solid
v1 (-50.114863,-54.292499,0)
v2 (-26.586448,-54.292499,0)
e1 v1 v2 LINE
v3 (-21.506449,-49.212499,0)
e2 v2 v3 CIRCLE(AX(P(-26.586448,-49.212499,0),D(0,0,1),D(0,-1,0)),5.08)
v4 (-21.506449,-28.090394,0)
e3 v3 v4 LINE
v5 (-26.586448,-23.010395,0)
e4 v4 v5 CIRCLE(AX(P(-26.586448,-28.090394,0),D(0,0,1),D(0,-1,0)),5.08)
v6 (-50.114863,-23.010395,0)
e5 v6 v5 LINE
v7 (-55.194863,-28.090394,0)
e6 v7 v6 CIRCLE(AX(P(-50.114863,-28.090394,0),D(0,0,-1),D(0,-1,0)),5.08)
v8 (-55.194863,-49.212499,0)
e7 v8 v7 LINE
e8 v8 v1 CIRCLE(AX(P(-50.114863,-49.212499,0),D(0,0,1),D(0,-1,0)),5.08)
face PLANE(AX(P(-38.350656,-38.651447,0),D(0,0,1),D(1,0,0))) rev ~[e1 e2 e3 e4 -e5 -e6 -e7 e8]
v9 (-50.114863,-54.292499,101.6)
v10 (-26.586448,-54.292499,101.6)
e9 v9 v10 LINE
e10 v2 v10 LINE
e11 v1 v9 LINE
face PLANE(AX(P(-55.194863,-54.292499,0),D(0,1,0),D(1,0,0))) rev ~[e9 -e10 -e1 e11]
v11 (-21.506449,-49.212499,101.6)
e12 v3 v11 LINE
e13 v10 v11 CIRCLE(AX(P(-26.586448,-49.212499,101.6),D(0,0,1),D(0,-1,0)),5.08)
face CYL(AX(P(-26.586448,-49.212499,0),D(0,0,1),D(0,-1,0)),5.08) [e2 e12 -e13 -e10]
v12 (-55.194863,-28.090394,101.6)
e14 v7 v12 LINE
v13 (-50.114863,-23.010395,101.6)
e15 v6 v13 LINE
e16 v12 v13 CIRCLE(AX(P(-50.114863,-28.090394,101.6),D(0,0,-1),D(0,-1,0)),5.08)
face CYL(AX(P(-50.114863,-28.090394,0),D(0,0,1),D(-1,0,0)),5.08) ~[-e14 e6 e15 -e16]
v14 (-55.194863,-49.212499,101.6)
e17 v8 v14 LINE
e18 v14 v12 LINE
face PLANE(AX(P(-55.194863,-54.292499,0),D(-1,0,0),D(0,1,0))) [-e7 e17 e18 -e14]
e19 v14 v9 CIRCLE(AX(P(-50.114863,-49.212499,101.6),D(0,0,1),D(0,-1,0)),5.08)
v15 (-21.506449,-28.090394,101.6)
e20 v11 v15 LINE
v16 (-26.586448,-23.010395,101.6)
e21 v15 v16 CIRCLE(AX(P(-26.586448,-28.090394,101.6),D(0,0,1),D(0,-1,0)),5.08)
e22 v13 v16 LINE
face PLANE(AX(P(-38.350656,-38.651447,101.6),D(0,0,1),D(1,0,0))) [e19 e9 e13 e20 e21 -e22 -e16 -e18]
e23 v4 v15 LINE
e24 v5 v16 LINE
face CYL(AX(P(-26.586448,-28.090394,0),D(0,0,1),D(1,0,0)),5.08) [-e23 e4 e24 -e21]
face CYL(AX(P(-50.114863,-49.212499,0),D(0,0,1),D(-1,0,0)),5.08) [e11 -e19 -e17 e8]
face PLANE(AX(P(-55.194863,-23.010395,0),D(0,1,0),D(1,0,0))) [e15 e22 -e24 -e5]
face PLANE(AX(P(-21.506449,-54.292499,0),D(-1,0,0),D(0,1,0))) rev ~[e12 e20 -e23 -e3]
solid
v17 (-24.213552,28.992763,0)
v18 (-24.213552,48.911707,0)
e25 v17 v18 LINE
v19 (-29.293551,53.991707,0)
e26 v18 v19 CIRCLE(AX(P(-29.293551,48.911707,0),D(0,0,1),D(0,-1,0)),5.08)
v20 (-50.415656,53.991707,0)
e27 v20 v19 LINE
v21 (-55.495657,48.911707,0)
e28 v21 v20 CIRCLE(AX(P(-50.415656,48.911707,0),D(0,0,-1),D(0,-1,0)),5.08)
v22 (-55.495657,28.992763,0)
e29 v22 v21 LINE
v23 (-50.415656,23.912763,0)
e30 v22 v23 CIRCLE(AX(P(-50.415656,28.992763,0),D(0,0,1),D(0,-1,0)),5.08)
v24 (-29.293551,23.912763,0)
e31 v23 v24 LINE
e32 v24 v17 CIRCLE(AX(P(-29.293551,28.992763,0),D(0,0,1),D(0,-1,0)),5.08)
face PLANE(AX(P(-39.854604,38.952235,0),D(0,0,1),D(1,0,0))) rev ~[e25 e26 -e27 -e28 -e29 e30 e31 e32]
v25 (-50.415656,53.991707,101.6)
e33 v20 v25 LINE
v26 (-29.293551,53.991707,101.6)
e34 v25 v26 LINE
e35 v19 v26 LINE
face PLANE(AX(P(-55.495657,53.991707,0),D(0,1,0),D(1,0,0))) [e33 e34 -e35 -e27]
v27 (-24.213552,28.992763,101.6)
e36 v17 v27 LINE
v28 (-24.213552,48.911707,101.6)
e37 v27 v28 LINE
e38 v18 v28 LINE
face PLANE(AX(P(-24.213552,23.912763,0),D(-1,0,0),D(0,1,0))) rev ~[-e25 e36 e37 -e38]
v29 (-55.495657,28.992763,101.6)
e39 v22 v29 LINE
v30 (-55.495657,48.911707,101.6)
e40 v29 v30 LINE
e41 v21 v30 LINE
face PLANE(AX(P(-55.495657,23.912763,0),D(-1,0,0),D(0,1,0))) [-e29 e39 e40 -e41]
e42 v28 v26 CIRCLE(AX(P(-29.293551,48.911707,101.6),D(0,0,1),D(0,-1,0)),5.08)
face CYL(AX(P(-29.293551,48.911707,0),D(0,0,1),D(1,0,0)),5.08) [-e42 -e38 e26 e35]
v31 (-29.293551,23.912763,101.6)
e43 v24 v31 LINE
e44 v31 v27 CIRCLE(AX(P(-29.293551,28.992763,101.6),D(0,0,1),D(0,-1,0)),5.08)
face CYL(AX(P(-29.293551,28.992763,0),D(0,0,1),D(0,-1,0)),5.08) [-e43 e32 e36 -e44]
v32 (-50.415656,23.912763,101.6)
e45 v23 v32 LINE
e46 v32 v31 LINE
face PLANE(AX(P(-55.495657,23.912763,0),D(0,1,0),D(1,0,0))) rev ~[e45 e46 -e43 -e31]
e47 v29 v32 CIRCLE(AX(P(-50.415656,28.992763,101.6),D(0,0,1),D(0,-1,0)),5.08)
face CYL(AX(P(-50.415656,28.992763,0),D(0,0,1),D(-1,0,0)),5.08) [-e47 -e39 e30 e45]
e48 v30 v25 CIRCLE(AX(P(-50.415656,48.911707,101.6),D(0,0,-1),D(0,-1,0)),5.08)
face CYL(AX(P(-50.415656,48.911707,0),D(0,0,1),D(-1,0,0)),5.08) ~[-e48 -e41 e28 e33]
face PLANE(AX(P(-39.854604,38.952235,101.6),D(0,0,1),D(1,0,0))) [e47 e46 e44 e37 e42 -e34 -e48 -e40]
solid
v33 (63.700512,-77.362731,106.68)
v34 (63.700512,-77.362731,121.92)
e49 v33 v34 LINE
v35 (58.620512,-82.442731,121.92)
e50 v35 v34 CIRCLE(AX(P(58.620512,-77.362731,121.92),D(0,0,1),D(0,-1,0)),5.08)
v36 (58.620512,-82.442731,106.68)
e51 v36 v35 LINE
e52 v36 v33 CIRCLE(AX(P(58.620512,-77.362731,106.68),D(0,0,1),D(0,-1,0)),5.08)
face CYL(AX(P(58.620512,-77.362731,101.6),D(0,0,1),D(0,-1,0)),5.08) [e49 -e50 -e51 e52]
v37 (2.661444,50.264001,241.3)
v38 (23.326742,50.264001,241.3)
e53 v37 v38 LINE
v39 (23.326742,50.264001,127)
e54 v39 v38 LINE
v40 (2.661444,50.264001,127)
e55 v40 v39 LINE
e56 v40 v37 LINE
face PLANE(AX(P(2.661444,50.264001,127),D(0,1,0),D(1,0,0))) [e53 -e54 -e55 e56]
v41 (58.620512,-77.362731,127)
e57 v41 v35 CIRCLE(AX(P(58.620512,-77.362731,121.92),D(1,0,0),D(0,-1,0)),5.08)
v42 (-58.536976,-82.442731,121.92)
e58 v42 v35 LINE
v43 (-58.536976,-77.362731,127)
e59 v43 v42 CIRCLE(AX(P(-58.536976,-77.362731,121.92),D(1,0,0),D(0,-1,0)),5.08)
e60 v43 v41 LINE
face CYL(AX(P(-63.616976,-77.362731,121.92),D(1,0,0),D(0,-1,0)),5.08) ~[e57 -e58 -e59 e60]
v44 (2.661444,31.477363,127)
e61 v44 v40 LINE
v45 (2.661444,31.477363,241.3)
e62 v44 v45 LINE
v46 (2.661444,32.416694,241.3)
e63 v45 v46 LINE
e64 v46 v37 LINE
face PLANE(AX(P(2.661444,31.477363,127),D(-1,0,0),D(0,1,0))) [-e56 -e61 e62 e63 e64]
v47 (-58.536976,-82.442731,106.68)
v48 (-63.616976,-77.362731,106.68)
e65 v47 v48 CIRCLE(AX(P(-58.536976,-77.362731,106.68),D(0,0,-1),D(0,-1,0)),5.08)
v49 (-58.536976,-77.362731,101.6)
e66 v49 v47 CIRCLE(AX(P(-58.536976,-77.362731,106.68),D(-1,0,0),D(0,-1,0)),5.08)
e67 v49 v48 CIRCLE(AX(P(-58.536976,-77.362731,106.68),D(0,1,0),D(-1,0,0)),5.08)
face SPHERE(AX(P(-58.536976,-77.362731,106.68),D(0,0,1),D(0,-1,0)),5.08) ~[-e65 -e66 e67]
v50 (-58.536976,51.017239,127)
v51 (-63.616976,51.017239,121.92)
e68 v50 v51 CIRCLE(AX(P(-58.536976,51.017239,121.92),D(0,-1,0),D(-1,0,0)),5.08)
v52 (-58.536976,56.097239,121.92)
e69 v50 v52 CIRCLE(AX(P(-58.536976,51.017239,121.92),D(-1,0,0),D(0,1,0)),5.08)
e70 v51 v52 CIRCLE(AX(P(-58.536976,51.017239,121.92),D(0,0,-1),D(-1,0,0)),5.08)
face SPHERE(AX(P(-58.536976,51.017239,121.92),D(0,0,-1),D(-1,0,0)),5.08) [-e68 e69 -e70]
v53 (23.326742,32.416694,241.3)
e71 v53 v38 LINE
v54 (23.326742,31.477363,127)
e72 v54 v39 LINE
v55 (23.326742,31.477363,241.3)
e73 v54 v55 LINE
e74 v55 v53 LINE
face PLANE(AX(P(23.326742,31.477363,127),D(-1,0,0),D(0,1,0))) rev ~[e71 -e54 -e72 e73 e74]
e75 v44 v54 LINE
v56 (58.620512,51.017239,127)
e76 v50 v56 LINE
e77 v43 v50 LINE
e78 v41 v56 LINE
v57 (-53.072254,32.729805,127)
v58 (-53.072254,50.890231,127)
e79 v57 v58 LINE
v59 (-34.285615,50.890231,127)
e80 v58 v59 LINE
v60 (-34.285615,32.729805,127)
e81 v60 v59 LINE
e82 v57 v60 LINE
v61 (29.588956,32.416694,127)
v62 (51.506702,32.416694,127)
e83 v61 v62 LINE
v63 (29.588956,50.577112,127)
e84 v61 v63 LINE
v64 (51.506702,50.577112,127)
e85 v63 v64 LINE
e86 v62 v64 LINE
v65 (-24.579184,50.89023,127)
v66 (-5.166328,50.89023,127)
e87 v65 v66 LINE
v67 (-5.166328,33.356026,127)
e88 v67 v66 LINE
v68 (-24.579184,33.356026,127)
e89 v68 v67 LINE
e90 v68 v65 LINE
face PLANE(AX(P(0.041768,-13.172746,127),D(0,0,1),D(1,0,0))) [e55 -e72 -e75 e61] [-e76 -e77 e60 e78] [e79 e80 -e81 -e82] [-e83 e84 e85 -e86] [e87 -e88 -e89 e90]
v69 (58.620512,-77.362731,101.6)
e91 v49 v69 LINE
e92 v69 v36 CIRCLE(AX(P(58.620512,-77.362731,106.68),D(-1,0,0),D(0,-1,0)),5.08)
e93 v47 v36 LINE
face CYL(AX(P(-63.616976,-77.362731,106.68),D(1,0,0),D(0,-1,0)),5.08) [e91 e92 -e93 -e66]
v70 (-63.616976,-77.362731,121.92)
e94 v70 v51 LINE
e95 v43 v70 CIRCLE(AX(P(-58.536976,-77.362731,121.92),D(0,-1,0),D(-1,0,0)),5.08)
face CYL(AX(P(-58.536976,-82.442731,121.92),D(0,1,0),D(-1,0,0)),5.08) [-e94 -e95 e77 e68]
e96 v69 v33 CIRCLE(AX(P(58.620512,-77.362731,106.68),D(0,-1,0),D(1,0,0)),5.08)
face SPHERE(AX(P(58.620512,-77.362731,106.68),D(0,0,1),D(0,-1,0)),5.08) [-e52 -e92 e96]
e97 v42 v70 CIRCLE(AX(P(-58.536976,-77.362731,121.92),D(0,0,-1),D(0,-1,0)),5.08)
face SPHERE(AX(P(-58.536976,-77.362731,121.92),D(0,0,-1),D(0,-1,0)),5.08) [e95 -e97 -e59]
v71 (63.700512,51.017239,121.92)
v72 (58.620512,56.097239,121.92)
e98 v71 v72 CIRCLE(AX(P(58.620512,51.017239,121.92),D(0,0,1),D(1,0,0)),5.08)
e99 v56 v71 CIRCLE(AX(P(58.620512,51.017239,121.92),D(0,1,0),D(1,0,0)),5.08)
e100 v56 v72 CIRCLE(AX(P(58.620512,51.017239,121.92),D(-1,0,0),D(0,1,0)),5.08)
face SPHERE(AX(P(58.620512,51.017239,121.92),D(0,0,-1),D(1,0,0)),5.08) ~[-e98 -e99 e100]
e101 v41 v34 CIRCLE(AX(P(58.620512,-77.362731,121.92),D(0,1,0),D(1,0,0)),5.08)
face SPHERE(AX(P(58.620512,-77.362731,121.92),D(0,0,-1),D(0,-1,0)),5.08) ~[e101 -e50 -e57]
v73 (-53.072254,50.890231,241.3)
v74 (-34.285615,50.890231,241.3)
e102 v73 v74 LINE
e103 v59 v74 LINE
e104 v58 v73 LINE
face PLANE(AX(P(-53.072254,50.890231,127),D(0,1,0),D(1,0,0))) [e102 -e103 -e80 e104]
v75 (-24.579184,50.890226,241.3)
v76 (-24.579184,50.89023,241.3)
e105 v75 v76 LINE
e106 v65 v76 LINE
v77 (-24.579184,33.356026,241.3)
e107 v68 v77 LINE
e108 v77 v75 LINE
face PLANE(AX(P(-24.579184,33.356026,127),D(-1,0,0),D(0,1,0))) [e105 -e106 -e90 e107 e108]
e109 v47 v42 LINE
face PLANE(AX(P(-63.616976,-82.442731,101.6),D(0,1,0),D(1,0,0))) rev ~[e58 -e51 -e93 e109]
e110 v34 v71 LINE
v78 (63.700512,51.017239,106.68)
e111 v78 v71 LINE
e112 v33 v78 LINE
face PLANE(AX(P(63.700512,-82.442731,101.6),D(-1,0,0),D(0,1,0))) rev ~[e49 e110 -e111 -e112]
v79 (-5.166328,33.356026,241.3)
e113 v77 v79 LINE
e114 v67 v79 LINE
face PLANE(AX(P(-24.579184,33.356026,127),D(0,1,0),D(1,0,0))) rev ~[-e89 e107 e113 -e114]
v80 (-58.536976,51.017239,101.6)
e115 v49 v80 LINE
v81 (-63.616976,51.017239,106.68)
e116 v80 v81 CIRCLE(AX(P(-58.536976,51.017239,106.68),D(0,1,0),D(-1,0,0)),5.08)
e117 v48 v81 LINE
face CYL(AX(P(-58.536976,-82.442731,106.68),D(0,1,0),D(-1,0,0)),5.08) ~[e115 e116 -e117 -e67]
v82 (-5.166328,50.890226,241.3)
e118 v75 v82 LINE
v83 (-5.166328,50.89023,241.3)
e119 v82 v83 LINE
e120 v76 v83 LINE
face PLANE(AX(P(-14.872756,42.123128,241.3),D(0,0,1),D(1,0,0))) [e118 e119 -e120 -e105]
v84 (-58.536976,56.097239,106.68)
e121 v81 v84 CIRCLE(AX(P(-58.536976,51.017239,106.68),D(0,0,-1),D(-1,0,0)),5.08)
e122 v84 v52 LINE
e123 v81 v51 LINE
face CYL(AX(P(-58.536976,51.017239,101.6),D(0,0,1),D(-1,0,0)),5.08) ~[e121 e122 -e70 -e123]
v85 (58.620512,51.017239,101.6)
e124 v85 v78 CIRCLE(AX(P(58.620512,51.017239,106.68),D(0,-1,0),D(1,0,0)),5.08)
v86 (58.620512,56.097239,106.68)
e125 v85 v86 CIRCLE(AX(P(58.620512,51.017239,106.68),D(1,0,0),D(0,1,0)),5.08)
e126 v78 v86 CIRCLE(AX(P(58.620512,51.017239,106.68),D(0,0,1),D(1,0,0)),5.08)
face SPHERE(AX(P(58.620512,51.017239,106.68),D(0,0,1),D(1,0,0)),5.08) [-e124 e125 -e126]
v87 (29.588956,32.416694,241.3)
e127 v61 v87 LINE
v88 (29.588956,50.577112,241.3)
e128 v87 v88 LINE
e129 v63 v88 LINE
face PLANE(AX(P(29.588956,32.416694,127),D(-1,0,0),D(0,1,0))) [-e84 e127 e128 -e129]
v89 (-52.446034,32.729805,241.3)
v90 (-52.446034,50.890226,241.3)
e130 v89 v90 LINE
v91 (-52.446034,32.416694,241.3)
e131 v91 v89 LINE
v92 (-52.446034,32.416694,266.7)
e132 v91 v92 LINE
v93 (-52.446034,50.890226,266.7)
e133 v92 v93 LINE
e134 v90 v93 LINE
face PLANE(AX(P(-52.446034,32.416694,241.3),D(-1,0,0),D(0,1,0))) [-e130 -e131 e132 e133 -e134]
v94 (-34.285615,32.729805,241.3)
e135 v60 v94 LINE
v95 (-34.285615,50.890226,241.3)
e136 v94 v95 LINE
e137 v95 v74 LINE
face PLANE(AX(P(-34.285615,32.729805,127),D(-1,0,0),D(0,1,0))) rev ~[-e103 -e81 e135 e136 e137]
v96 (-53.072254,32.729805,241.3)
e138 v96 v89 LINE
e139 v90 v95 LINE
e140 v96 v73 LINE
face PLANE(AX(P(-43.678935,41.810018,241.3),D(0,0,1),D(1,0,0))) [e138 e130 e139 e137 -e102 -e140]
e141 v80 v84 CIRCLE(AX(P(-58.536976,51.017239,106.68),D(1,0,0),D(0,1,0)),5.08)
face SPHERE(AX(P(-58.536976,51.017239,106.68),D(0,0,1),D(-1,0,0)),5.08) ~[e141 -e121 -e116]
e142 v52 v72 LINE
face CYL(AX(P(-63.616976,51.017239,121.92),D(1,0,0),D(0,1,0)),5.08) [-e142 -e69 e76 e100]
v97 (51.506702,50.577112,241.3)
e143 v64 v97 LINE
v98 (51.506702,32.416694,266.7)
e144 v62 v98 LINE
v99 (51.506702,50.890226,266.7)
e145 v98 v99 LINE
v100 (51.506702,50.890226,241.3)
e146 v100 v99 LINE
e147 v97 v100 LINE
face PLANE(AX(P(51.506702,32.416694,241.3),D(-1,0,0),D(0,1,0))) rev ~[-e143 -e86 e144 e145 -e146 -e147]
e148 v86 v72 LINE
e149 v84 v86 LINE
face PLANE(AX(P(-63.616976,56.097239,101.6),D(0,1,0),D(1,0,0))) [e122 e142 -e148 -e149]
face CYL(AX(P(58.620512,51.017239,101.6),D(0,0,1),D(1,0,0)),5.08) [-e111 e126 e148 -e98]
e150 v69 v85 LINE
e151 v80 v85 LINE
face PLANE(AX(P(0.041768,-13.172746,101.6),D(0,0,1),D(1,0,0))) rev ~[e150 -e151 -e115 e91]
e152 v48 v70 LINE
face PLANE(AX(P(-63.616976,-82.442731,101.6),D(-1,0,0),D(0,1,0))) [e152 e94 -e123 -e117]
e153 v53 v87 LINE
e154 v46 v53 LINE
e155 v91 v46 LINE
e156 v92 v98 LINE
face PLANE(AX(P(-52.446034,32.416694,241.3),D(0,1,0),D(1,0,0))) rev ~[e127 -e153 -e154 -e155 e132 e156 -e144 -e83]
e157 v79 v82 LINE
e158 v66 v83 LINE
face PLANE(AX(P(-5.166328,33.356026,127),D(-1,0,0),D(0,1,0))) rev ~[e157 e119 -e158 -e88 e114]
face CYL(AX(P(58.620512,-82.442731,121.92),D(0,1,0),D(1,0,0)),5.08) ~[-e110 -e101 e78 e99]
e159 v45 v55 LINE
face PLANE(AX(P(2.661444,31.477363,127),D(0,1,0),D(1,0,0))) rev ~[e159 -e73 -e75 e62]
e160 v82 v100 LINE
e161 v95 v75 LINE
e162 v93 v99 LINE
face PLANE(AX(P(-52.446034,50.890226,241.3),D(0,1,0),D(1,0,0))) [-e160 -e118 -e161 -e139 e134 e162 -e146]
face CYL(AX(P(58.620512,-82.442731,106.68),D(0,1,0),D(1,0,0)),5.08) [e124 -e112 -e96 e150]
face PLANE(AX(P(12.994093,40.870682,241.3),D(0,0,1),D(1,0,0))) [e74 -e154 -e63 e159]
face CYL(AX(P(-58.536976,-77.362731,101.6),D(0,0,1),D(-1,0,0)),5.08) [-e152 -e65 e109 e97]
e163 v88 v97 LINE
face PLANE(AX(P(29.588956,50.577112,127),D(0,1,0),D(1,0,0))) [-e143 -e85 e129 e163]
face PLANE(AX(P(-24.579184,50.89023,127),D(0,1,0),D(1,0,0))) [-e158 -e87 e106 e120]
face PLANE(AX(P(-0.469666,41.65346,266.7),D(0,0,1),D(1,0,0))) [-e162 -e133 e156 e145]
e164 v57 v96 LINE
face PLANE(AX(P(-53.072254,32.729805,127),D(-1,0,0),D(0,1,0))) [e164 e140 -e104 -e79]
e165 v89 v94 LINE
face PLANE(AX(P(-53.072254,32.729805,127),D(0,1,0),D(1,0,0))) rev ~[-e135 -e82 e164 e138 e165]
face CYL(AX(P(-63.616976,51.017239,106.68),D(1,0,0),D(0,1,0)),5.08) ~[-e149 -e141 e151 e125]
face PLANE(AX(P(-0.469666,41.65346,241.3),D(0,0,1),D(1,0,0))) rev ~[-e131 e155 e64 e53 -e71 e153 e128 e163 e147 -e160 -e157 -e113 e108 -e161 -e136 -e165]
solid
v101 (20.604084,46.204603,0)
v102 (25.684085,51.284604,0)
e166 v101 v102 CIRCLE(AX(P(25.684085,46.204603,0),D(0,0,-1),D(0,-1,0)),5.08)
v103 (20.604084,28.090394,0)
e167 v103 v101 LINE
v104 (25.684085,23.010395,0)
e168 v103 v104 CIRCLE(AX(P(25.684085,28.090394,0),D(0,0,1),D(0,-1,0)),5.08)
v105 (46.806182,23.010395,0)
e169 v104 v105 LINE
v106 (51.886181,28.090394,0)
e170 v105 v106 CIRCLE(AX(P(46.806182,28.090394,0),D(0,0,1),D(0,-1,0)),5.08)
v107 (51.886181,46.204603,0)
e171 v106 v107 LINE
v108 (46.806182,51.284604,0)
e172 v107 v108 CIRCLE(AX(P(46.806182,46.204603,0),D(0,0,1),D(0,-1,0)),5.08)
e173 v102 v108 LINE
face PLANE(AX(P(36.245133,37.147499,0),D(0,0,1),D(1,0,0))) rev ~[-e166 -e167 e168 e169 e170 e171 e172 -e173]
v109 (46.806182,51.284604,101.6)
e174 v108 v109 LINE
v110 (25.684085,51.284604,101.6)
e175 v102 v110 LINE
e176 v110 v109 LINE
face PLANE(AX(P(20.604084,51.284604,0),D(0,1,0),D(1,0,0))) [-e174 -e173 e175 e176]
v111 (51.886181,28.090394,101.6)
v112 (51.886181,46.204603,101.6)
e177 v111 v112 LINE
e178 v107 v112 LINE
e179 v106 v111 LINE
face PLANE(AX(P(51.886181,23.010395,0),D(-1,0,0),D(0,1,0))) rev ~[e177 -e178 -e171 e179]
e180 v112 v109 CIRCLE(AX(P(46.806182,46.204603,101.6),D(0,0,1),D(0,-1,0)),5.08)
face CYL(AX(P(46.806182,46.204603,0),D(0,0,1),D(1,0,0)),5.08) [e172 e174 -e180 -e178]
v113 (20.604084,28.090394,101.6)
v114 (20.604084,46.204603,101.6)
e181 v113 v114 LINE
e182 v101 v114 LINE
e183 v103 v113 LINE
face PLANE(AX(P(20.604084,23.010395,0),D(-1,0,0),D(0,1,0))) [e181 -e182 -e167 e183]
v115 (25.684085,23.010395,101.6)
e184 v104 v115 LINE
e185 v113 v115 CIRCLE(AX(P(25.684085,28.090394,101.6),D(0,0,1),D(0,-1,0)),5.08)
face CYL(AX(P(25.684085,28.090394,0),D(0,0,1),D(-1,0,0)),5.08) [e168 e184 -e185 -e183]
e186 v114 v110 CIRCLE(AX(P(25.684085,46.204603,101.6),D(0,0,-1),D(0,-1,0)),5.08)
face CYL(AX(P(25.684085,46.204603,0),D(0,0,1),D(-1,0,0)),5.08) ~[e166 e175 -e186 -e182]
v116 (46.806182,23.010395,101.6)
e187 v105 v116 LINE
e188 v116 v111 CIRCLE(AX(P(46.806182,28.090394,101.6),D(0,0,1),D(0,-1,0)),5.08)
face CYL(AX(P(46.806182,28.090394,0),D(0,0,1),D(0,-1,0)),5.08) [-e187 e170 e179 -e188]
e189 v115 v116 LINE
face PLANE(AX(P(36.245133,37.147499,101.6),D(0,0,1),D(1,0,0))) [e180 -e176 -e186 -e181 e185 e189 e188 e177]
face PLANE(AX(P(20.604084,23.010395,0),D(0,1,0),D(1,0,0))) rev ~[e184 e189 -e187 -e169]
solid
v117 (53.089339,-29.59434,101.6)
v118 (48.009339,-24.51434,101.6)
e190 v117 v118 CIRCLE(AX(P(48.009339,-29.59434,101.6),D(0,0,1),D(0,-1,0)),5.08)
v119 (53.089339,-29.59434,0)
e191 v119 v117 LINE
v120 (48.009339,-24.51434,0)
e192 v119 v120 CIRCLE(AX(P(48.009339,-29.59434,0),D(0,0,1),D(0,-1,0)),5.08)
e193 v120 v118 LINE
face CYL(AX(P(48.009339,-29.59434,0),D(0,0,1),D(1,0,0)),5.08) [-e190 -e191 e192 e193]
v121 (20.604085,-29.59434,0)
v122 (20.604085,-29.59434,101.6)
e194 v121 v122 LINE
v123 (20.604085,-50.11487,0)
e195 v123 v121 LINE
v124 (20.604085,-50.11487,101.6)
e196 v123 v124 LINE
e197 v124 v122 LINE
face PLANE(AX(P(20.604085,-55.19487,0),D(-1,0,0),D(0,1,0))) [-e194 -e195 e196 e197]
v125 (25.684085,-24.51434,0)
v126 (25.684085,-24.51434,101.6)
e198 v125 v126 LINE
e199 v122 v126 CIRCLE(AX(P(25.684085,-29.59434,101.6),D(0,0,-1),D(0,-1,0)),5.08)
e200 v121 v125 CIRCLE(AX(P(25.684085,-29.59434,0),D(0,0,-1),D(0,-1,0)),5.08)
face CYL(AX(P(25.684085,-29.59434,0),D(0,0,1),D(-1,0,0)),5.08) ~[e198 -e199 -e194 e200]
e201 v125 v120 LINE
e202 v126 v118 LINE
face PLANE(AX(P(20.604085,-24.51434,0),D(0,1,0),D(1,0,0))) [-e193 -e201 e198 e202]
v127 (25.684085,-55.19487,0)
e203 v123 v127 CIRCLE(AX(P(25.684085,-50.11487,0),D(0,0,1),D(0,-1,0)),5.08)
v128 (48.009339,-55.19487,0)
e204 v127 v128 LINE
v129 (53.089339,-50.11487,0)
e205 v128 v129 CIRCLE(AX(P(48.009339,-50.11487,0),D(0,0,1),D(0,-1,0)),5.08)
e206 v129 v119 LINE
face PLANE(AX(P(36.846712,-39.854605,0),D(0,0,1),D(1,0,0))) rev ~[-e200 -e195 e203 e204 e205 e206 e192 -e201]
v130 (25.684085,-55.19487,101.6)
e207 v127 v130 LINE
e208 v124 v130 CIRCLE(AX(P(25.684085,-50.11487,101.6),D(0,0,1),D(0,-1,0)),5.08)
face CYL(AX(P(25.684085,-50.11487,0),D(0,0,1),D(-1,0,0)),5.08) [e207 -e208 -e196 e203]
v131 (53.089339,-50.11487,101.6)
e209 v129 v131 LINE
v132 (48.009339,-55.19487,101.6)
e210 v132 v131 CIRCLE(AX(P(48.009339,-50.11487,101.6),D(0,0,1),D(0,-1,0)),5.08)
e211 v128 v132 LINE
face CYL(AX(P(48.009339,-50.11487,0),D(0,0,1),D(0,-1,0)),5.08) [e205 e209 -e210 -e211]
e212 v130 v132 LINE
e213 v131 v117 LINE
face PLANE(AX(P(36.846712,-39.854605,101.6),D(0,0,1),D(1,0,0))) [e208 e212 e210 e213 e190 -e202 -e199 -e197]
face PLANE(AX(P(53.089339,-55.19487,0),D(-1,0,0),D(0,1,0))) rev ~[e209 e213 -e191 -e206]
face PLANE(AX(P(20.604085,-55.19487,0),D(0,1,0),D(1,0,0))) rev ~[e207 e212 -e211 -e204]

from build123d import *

# Parameters (mm, degrees)
F0_W     = 31.282105
F0_H     = 30.078944
F0_W_2   = 31.282097
F0_H_2   = 28.274209
F0_W_3   = 33.688415
F0_H_3   = 31.282105
F0_W_4   = 32.485254
F0_H_4   = 30.68053
F1_DEPTH = 101.6
F2_W     = 127.317488
F2_H     = 138.53997
F3_DEPTH = 25.4
F4_R     = 5.08
F5_W     = 18.786639
F5_H     = 18.160425
F5_W_2   = 19.412856
F5_H_2   = 17.534204
F5_W_3   = 20.665298
F5_H_3   = 18.786639
F5_W_4   = 21.917746
F5_H_4   = 18.160418
F6_DEPTH = 114.3
F7_W     = 103.952736
F7_H     = 18.473532
F8_DEPTH = 25.4
F9_R     = 5.08
F10_R    = 5.08
F11_R    = 5.08
F12_R    = 5.08


with BuildPart() as f1:
    # F0 (on Top) → F1 (new body)
    with BuildSketch(Plane.XY):
        with Locations((-39.854604, 38.952235)):
            Rectangle(F0_W, F0_H)
        with Locations((36.245133, 37.147499)):
            Rectangle(F0_W_2, F0_H_2)
        with Locations((-38.350656, -38.651447)):
            Rectangle(F0_W_3, F0_H_3)
        with Locations((36.846712, -39.854605)):
            Rectangle(F0_W_4, F0_H_4)
    extrude(amount=F1_DEPTH)

    # F9
    f9_edges = [f1.edges().sort_by_distance(p)[0] for p in [
        (53.089339, -55.19487, 50.8),
        (53.089339, -24.51434, 50.8),
        (20.604085, -24.51434, 50.8),
        (20.604085, -55.19487, 50.8),
    ]]
    fillet(f9_edges, radius=F9_R)

    # F10
    f10_edges = [f1.edges().sort_by_distance(p)[0] for p in [
        (-55.194864, -54.2925, 50.8),
        (-55.194864, -23.010395, 50.8),
        (-21.506449, -54.2925, 50.8),
        (-21.506449, -23.010395, 50.8),
    ]]
    fillet(f10_edges, radius=F10_R)

    # F11
    f11_edges = [f1.edges().sort_by_distance(p)[0] for p in [
        (-55.495657, 53.991707, 50.8),
        (-55.495657, 23.912763, 50.8),
        (-24.213552, 53.991707, 50.8),
        (-24.213552, 23.912763, 50.8),
    ]]
    fillet(f11_edges, radius=F11_R)

    # F12
    f12_edges = [f1.edges().sort_by_distance(p)[0] for p in [
        (51.886182, 23.010395, 50.8),
        (51.886182, 51.284604, 50.8),
        (20.604085, 23.010395, 50.8),
        (20.604085, 51.284604, 50.8),
    ]]
    fillet(f12_edges, radius=F12_R)


with BuildPart() as f3:
    # F2 (on face) → F3 (new body)
    with BuildSketch(Plane.XY.offset(101.6)):
        with Locations((0.041768, -13.172746)):
            Rectangle(F2_W, F2_H)
    extrude(amount=F3_DEPTH)

    # F4
    f4_edges = [f3.edges().sort_by_distance(p)[0] for p in [
        (-63.616976, -82.442731, 114.3),
        (63.700512, -82.442731, 114.3),
        (0.041768, -82.442731, 101.6),
        (0.041768, -82.442731, 127),
        (-63.616976, 56.097239, 114.3),
        (-63.616976, -13.172746, 101.6),
        (-63.616976, -13.172746, 127),
        (63.700512, 56.097239, 114.3),
        (63.700512, -13.172746, 101.6),
        (63.700512, -13.172746, 127),
        (0.041768, 56.097239, 101.6),
        (0.041768, 56.097239, 127),
    ]]
    fillet(f4_edges, radius=F4_R)

    # F5 (on face) → F6 (join)
    with BuildSketch(Plane.XY.offset(127)):
        with Locations((-43.678935, 41.810018)):
            Rectangle(F5_W, F5_H)
        with Locations((-14.872756, 42.123128)):
            Rectangle(F5_W_2, F5_H_2)
        with Locations((12.994093, 40.870682)):
            Rectangle(F5_W_3, F5_H_3)
        with Locations((40.547829, 41.496903)):
            Rectangle(F5_W_4, F5_H_4)
    extrude(amount=F6_DEPTH)

    # F7 (on face) → F8 (join)
    with BuildSketch(Plane.XY.offset(241.3)):
        with Locations((-0.469666, 41.65346)):
            Rectangle(F7_W, F7_H)
    extrude(amount=F8_DEPTH)


solid = Compound([f1.part, f3.part])
